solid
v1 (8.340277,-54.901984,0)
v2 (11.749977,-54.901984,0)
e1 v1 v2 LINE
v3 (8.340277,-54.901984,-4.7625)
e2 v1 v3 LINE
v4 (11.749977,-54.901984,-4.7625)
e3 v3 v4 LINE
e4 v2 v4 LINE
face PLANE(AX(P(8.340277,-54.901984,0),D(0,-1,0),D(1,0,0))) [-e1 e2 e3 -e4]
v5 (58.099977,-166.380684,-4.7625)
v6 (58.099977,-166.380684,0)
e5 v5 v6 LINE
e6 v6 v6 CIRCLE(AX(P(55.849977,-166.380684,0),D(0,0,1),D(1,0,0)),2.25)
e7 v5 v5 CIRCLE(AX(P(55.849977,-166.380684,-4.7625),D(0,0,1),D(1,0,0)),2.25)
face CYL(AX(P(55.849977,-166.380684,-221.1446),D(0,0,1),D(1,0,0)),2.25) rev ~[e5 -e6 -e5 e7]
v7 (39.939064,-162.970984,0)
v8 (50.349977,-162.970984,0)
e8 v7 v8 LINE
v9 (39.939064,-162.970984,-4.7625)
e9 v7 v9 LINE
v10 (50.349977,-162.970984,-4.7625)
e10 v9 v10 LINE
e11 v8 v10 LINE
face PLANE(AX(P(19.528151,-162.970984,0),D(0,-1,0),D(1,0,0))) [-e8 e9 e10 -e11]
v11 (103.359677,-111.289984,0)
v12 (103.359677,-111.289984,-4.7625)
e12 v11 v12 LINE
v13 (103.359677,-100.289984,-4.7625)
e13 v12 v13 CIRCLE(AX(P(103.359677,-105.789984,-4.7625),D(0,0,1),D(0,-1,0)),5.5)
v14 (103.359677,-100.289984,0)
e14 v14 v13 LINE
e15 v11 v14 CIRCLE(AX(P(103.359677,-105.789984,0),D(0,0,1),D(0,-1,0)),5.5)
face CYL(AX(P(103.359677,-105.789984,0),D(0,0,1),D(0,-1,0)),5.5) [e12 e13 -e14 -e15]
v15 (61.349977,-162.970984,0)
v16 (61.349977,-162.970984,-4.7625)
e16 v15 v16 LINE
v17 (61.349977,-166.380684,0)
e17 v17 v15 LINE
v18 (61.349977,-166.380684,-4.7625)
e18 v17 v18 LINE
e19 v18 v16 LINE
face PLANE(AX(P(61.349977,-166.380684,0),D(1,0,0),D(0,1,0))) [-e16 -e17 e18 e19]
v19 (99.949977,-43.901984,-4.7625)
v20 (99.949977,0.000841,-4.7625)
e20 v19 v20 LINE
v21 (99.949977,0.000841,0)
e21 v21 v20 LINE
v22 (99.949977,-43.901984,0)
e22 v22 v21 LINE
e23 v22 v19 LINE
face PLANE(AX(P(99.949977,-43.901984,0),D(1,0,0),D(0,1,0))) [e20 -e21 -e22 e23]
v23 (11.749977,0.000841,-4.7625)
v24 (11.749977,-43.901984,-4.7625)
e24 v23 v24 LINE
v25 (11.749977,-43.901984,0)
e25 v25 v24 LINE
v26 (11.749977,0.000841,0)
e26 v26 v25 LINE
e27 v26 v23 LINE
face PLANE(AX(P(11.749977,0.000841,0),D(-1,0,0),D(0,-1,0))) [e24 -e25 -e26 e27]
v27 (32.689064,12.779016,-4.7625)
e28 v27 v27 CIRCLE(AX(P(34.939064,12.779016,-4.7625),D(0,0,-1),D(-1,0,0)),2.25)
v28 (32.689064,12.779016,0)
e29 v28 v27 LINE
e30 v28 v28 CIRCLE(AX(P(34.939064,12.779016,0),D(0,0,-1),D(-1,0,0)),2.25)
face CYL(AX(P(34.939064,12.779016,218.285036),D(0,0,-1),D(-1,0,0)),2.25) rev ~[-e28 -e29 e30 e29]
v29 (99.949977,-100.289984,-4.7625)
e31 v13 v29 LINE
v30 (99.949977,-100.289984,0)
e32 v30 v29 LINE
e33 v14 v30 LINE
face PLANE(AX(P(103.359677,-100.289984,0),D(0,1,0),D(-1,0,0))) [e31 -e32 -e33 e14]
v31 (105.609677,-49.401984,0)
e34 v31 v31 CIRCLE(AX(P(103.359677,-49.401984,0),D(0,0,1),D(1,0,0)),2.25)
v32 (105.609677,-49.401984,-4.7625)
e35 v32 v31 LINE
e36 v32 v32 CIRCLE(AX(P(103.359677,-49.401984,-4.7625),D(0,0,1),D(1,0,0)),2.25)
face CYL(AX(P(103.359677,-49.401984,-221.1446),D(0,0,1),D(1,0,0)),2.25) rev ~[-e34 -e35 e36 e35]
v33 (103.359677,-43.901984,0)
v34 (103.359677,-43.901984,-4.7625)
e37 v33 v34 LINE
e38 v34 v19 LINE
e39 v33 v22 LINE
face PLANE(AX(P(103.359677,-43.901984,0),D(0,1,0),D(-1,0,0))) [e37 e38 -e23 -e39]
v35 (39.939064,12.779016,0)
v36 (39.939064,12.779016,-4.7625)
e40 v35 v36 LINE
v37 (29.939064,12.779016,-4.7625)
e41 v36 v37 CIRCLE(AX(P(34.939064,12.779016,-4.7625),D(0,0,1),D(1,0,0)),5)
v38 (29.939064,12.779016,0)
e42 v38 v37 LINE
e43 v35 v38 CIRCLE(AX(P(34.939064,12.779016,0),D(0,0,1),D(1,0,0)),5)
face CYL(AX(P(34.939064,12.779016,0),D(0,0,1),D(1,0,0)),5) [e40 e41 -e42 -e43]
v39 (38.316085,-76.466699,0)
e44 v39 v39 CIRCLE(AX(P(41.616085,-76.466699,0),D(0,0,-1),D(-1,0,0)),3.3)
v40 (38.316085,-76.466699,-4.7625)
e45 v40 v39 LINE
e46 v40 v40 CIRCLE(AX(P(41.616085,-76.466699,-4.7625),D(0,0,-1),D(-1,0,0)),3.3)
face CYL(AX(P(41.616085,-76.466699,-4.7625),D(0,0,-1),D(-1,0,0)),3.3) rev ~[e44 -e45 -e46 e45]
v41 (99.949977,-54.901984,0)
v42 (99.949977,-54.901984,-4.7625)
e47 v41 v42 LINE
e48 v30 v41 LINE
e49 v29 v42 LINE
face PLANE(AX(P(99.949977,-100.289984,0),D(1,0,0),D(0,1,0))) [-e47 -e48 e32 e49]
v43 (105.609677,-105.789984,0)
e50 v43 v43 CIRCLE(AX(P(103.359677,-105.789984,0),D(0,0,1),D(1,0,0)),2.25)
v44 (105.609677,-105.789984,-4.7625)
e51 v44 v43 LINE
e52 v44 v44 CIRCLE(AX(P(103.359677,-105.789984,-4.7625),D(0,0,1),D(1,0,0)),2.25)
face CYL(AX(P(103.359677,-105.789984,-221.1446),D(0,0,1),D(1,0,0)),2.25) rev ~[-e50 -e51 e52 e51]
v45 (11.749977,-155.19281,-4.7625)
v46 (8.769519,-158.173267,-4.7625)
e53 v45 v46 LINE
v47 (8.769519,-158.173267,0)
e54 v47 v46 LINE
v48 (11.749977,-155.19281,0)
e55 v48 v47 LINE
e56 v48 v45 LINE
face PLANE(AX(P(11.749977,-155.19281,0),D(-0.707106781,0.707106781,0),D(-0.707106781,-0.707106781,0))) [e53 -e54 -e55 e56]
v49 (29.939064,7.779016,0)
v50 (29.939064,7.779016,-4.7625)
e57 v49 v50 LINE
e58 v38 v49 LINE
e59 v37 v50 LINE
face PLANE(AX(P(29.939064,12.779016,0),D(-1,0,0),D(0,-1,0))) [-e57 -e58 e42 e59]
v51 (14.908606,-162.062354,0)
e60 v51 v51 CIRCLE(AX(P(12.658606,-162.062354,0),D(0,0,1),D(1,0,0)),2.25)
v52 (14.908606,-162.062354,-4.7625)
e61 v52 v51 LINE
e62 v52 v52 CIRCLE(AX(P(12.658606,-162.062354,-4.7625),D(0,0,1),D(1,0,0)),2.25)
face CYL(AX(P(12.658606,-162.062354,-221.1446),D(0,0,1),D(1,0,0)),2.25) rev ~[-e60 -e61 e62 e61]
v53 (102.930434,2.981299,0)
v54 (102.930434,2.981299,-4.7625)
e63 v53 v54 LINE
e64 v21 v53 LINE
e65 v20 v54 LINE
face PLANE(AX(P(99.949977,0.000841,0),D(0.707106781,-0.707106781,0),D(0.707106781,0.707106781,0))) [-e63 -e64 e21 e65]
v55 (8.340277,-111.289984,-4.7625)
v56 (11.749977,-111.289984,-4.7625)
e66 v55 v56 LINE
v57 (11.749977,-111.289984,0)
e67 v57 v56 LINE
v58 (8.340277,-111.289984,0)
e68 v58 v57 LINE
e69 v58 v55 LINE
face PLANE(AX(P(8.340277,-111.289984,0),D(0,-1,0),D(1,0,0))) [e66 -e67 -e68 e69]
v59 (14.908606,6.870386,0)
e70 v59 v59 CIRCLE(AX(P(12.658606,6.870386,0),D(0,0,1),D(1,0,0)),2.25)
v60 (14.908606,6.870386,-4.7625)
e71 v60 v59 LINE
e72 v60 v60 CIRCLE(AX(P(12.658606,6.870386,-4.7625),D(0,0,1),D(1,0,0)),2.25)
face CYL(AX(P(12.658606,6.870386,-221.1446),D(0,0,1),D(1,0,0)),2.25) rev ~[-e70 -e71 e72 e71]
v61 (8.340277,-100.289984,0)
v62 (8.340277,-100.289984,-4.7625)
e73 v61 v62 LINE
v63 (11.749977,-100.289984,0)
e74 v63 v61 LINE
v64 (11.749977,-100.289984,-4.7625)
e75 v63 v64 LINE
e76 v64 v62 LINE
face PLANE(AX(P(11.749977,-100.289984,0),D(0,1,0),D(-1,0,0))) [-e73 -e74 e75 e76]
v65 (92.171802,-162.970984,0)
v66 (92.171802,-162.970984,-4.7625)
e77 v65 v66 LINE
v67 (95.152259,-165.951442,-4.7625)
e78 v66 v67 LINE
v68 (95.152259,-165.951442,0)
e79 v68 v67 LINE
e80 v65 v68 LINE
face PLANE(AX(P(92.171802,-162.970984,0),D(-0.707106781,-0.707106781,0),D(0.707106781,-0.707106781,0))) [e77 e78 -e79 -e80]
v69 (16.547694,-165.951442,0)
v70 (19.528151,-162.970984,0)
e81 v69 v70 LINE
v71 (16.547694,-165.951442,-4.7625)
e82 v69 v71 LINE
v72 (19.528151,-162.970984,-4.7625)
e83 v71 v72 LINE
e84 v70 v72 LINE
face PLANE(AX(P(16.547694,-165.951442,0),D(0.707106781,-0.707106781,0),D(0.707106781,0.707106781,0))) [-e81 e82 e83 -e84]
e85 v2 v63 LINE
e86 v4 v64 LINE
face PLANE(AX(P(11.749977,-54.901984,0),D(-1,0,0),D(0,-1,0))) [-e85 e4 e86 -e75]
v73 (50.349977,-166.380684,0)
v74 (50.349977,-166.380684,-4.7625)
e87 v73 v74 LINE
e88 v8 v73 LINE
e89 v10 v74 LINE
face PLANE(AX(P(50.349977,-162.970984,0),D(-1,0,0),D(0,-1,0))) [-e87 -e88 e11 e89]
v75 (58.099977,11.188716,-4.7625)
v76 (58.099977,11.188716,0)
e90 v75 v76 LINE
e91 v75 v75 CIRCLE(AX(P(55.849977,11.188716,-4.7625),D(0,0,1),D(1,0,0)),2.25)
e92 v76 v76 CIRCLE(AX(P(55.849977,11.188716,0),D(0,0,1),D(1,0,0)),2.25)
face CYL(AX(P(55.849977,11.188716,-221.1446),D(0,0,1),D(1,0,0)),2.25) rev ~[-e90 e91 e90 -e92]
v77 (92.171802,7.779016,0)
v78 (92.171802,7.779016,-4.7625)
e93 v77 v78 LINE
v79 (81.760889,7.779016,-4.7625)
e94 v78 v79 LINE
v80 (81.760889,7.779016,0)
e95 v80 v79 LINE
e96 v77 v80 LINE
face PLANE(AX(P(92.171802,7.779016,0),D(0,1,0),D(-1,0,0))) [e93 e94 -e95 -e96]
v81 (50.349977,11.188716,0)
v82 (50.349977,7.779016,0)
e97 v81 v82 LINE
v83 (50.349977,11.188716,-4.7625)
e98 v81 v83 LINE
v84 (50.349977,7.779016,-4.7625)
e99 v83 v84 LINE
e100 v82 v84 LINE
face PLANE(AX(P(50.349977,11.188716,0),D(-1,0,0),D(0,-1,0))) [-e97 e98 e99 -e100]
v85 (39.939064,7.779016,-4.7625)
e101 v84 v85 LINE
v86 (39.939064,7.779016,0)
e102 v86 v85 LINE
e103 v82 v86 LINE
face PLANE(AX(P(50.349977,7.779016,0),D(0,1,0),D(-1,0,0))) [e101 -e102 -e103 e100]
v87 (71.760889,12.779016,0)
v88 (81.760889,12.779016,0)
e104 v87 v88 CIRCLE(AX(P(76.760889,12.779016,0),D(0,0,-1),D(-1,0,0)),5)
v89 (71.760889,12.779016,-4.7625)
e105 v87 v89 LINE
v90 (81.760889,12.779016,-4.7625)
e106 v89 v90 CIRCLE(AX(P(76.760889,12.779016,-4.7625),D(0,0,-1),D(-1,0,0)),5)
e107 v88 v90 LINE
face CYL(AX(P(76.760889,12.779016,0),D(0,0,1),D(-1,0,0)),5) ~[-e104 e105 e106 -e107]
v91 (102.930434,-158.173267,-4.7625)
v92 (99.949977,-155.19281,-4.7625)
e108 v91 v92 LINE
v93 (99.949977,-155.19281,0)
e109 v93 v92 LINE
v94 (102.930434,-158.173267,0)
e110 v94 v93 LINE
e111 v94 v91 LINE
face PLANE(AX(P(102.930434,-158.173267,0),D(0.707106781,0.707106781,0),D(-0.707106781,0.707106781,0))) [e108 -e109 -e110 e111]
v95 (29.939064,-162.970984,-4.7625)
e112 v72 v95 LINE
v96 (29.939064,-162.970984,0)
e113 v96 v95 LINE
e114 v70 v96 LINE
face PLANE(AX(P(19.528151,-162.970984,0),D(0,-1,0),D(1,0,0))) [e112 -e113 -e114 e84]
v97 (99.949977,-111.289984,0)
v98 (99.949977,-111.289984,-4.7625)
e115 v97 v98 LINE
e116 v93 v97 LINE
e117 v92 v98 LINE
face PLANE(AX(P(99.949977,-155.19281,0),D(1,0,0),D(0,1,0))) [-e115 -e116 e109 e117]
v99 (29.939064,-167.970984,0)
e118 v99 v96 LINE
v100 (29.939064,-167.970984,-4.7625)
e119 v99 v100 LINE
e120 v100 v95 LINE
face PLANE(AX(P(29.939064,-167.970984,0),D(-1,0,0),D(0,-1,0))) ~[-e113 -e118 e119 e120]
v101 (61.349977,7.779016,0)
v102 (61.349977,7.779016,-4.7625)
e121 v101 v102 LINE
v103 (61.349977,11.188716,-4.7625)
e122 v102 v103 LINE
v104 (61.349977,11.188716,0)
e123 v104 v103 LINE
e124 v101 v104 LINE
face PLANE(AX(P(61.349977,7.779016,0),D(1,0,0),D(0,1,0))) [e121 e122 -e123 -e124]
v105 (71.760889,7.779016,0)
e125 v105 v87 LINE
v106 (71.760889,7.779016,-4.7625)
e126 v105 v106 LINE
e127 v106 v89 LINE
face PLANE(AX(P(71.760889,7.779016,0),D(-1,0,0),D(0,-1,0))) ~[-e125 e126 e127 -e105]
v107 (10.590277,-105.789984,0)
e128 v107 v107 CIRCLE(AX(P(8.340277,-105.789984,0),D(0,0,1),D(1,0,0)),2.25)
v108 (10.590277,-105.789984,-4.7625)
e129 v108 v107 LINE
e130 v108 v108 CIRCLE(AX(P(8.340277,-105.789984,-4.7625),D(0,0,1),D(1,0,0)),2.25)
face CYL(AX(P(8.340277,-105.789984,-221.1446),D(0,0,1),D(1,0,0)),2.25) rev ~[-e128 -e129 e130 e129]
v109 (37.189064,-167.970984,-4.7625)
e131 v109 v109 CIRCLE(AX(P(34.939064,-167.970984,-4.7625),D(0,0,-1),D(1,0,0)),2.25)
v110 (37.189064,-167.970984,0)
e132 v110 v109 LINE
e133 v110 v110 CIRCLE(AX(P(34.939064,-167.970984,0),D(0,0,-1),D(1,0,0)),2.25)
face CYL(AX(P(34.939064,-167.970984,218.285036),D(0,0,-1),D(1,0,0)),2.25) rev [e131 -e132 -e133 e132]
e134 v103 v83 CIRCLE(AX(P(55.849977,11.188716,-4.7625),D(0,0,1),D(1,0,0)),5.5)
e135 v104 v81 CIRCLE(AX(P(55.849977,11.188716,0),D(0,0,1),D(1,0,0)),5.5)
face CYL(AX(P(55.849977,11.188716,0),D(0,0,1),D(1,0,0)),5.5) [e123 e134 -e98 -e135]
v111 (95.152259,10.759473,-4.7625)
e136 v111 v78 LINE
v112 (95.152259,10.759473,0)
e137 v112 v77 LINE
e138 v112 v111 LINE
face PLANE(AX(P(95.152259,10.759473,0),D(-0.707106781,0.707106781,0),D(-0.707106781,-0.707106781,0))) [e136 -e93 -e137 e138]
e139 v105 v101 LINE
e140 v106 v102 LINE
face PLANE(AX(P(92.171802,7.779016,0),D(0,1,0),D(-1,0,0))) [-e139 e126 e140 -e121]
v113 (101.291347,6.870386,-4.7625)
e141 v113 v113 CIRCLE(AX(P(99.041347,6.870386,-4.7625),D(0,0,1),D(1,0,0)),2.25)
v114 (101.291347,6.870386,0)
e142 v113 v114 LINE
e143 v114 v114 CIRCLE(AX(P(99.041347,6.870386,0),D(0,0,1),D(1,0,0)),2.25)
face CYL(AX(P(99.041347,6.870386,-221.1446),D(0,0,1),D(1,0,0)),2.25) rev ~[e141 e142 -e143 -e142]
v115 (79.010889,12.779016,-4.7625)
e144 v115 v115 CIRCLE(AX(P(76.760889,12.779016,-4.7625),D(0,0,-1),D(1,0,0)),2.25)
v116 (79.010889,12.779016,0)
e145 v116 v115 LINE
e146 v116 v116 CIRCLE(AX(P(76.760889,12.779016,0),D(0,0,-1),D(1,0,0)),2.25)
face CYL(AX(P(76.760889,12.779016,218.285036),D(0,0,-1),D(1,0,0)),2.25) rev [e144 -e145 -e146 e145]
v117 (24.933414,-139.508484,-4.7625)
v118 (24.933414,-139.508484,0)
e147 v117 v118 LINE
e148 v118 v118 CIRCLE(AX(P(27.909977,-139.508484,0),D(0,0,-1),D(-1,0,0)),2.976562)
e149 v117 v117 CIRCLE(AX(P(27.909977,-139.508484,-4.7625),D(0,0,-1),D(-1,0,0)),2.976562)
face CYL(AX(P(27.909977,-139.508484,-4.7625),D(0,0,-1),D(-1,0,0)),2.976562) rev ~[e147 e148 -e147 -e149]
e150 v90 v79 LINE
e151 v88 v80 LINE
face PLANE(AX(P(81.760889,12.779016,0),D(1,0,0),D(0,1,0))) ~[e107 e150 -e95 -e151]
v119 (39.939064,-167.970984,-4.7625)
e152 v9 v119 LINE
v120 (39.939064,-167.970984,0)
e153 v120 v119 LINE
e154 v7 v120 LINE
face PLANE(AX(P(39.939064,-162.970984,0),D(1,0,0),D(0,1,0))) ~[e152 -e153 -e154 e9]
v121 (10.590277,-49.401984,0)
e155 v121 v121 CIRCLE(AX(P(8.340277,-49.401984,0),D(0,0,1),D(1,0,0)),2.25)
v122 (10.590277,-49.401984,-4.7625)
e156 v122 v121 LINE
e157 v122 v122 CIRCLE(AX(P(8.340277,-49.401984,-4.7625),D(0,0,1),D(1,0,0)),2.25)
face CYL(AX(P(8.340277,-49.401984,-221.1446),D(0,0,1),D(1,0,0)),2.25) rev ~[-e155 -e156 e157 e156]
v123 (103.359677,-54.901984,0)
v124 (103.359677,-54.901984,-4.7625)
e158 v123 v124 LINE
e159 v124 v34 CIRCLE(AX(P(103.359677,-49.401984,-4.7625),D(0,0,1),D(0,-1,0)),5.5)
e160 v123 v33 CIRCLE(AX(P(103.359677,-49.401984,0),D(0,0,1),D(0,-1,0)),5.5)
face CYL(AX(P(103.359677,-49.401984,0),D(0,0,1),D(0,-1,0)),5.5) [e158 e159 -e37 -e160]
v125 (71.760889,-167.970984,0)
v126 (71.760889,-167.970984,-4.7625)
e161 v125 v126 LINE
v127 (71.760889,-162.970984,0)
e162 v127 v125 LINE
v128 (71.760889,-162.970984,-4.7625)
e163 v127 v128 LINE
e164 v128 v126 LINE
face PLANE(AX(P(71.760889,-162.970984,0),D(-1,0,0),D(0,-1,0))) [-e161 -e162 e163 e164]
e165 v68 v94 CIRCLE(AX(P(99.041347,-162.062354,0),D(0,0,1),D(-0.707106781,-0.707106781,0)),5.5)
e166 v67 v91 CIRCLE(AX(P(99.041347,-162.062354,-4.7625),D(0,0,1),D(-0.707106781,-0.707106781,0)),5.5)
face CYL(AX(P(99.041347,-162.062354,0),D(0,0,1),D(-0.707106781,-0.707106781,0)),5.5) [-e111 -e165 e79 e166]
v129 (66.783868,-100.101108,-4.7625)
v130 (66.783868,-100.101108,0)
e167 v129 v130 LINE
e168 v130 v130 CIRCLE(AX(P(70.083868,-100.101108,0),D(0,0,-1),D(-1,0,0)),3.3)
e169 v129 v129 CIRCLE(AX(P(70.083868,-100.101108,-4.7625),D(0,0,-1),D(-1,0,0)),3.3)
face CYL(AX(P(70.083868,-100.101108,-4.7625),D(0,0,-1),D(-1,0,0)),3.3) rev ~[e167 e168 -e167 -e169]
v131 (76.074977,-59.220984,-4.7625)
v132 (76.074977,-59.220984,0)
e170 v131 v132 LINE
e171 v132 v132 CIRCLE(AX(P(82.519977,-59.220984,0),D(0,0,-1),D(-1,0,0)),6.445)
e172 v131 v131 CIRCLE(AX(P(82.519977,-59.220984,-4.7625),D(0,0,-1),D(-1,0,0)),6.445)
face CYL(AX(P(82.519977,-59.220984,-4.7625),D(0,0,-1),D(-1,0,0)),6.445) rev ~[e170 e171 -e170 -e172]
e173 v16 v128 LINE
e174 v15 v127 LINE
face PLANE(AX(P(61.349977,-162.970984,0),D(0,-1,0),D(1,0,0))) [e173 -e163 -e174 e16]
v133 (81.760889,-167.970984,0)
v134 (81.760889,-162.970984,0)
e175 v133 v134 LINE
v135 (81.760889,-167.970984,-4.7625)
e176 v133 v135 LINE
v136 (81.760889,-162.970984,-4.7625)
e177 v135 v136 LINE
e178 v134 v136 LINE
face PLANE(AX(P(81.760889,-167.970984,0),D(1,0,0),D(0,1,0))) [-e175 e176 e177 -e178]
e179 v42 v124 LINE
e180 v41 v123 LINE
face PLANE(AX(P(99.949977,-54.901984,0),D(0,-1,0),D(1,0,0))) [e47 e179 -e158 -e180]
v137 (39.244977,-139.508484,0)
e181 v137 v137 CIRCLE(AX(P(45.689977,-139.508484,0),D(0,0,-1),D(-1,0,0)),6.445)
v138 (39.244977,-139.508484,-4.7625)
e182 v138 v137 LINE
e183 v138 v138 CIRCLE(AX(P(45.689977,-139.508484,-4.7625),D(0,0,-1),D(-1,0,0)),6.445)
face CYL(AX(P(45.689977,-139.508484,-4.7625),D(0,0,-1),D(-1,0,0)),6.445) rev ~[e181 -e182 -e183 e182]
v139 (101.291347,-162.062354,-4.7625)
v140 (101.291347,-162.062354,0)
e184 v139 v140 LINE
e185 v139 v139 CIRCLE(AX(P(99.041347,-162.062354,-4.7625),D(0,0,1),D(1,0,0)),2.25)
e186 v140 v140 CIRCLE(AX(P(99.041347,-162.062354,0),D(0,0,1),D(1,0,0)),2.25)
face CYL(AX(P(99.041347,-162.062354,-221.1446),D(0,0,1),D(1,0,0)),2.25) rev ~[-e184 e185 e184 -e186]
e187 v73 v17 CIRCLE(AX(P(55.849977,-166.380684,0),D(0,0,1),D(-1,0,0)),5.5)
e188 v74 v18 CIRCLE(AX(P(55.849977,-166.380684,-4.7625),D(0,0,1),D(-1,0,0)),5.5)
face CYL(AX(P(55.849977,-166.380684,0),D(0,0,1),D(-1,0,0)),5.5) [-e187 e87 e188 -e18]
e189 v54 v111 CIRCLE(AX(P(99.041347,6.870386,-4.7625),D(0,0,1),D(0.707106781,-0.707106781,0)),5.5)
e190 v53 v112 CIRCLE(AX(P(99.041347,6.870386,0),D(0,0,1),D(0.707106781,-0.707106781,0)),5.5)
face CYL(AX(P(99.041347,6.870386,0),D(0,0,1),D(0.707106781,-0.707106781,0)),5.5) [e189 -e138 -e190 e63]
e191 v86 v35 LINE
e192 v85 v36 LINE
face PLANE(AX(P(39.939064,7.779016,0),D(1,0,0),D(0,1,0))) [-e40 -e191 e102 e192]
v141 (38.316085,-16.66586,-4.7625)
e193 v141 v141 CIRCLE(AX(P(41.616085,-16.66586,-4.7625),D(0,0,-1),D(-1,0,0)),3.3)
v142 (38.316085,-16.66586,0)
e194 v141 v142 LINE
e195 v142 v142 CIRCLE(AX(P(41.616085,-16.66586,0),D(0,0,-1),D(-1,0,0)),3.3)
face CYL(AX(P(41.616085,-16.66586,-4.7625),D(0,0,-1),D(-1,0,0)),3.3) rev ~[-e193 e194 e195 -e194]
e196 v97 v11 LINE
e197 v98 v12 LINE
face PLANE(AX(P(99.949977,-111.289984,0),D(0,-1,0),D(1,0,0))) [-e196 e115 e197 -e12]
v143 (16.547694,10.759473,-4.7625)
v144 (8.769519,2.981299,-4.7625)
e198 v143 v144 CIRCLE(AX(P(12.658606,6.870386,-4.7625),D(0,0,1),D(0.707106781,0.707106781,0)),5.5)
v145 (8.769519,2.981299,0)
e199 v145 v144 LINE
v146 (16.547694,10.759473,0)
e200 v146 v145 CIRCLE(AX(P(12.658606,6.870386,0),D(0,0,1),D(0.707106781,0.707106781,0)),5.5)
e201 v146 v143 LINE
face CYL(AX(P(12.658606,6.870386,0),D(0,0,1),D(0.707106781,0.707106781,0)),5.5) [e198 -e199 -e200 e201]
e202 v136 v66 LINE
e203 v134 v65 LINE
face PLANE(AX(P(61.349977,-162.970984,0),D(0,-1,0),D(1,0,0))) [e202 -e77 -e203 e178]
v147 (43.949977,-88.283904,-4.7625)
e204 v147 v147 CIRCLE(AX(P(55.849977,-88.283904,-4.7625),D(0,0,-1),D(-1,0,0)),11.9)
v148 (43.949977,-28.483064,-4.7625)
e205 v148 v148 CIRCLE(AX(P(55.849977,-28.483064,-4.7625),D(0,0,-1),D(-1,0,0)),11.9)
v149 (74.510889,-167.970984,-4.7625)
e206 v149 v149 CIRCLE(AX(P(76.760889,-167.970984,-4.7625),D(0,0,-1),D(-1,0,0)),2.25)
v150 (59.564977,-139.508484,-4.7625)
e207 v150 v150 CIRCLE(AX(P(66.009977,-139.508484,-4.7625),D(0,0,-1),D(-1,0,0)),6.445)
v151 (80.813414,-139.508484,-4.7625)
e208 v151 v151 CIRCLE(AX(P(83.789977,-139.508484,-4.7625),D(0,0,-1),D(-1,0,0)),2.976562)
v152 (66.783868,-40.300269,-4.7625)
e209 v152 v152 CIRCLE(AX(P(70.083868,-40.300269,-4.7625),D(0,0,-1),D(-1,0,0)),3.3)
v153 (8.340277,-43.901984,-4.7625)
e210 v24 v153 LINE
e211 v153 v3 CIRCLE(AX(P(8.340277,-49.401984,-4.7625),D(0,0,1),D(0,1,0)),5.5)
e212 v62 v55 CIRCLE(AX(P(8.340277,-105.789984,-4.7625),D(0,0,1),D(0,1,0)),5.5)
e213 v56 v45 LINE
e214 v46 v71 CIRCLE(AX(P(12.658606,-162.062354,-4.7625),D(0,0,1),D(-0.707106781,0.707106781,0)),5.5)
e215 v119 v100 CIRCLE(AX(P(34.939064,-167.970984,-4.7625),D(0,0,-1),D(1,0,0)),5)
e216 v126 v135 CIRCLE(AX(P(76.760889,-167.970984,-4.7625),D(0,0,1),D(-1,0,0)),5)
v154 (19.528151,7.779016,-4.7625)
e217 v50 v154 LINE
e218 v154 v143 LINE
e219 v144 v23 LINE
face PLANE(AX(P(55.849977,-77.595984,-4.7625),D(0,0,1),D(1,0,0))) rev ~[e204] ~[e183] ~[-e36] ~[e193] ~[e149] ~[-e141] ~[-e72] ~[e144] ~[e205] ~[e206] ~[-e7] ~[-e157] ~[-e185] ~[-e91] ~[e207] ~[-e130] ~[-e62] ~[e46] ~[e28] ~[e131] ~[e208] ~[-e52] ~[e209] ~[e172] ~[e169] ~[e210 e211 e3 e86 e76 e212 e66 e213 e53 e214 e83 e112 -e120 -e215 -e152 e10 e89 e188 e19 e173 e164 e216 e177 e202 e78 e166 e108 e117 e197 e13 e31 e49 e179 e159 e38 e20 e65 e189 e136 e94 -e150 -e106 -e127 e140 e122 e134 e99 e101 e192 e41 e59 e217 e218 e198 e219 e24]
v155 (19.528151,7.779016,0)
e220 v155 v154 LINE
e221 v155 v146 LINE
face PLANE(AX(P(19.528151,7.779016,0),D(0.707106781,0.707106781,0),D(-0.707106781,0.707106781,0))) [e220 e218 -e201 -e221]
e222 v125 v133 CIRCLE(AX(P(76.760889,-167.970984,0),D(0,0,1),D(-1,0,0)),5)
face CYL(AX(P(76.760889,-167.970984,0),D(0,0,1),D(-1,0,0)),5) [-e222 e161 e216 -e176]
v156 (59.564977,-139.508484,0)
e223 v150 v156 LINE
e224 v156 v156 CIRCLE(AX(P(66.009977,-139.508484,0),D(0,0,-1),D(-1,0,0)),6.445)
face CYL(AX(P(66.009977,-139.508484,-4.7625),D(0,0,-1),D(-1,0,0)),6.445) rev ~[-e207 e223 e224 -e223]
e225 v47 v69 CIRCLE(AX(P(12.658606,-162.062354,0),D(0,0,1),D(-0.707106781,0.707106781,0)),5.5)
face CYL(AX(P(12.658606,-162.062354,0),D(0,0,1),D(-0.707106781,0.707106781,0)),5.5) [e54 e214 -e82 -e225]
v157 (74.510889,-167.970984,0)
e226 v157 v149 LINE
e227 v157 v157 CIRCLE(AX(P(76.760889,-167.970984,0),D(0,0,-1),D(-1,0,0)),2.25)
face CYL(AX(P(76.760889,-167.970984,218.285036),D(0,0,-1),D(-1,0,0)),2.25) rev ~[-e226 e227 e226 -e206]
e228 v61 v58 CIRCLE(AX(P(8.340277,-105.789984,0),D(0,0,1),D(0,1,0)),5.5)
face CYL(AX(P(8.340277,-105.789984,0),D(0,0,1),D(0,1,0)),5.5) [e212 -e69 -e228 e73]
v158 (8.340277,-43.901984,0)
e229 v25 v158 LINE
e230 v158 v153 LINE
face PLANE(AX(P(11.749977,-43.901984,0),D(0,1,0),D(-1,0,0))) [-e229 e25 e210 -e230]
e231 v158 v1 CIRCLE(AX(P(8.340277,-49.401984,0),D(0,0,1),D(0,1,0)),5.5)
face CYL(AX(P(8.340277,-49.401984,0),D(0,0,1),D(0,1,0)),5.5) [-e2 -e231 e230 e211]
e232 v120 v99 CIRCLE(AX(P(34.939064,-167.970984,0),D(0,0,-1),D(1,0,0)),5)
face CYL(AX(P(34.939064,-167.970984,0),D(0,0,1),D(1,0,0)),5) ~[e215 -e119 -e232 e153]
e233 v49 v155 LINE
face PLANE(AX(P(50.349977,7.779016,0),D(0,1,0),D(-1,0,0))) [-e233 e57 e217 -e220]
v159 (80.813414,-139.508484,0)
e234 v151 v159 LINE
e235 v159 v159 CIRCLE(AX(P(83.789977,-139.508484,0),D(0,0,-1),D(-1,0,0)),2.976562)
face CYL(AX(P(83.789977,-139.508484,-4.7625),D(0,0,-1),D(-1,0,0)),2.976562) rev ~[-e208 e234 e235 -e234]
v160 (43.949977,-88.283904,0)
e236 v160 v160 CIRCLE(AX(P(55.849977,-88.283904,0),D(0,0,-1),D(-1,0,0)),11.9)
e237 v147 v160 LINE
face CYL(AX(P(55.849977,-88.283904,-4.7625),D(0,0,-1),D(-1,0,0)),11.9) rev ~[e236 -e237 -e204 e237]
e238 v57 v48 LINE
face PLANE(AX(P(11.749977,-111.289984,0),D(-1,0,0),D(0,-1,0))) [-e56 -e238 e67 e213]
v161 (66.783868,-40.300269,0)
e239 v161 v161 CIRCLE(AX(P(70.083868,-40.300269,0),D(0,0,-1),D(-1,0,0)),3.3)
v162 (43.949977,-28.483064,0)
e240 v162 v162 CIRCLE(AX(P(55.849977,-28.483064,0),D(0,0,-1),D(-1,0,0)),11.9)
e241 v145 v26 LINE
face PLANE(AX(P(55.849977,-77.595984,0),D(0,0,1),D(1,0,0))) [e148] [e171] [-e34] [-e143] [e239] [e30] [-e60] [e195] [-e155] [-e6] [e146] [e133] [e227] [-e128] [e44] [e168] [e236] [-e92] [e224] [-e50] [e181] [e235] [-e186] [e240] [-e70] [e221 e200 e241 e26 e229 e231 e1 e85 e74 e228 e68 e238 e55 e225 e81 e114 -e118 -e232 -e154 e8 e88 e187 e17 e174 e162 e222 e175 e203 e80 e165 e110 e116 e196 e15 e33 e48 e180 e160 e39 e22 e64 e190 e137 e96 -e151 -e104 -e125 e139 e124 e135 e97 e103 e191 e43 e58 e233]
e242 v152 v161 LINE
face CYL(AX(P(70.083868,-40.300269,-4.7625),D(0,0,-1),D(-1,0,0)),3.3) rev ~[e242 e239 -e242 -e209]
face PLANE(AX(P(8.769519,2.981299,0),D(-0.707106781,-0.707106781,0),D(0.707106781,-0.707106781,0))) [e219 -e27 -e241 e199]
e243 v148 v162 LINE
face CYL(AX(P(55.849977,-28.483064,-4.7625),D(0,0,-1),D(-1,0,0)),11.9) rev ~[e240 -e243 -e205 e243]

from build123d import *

# Parameters (mm, degrees)
BOSS_EXTRUDE1_DEPTH  = 4.7625
M4_CLEARANCE_HOLE1_D = 4.5
SKETCH4_R            = 3.3
SKETCH4_R_2          = 2.9765625
SKETCH4_R_3          = 6.445
SKETCH4_R_4          = 11.9
CUT_EXTRUDE1_DEPTH   = 4.7625
BOSS_EXTRUDE3_DEPTH  = 4.7625
M4_CLEARANCE_HOLE2_D = 4.5


with BuildPart() as part:
    # Sketch1 → Boss-Extrude1 (new body)
    with BuildSketch(Plane.XY):
        with BuildLine():
            Line((50.349976536, 7.779015878), (19.528151129, 7.779015878))
            Line((19.528151129, 7.779015878), (16.547693582, 10.759473425))
            ThreePointArc((16.547693582, 10.759473425), (8.769518989, 10.759473425), (8.769518989, 2.981298831))
            Line((8.769518989, 2.981298831), (11.749976536, 0.000841285))
            Line((11.749976536, 0.000841285), (11.749976536, -43.901984122))
            Line((11.749976536, -43.901984122), (8.340276536, -43.901984122))
            ThreePointArc((8.340276536, -43.901984122), (2.840276536, -49.401984122), (8.340276536, -54.901984122))
            Line((8.340276536, -54.901984122), (11.749976536, -54.901984122))
            Line((11.749976536, -54.901984122), (11.749976536, -100.289984122))
            Line((11.749976536, -100.289984122), (8.340276536, -100.289984122))
            ThreePointArc((8.340276536, -100.289984122), (2.840276536, -105.789984122), (8.340276536, -111.289984122))
            Line((8.340276536, -111.289984122), (11.749976536, -111.289984122))
            Line((11.749976536, -111.289984122), (11.749976536, -155.192809529))
            Line((11.749976536, -155.192809529), (8.769518989, -158.173267075))
            ThreePointArc((8.769518989, -158.173267075), (8.769518989, -165.951441668), (16.547693582, -165.951441668))
            Line((16.547693582, -165.951441668), (19.528151129, -162.970984122))
            Line((19.528151129, -162.970984122), (50.349976536, -162.970984122))
            Line((50.349976536, -162.970984122), (50.349976536, -166.380684122))
            ThreePointArc((50.349976536, -166.380684122), (55.849976536, -171.880684122), (61.349976536, -166.380684122))
            Line((61.349976536, -166.380684122), (61.349976536, -162.970984122))
            Line((61.349976536, -162.970984122), (92.171801943, -162.970984122))
            Line((92.171801943, -162.970984122), (95.152259489, -165.951441668))
            ThreePointArc((95.152259489, -165.951441668), (102.930434082, -165.951441668), (102.930434082, -158.173267075))
            Line((102.930434082, -158.173267075), (99.949976536, -155.192809529))
            Line((99.949976536, -155.192809529), (99.949976536, -111.289984122))
            Line((99.949976536, -111.289984122), (103.359676536, -111.289984122))
            ThreePointArc((103.359676536, -111.289984122), (108.859676536, -105.789984122), (103.359676536, -100.289984122))
            Line((103.359676536, -100.289984122), (99.949976536, -100.289984122))
            Line((99.949976536, -100.289984122), (99.949976536, -54.901984122))
            Line((99.949976536, -54.901984122), (103.359676536, -54.901984122))
            ThreePointArc((103.359676536, -54.901984122), (108.859676536, -49.401984122), (103.359676536, -43.901984122))
            Line((103.359676536, -43.901984122), (99.949976536, -43.901984122))
            Line((99.949976536, -43.901984122), (99.949976536, 0.000841285))
            Line((99.949976536, 0.000841285), (102.930434082, 2.981298831))
            ThreePointArc((102.930434082, 2.981298831), (102.930434082, 10.759473425), (95.152259489, 10.759473425))
            Line((95.152259489, 10.759473425), (92.171801943, 7.779015878))
            Line((92.171801943, 7.779015878), (61.349976536, 7.779015878))
            Line((61.349976536, 7.779015878), (61.349976536, 11.188715878))
            ThreePointArc((61.349976536, 11.188715878), (55.849976536, 16.688715878), (50.349976536, 11.188715878))
            Line((50.349976536, 11.188715878), (50.349976536, 7.779015878))
        make_face()
    extrude(amount=-BOSS_EXTRUDE1_DEPTH)

    # M4 Clearance Hole1 (through all)
    with Locations(Plane(origin=(0, 0, -4.7625), x_dir=(-1, 0, 0), z_dir=(0, 0, -1))):
        with Locations((-12.658606286, -162.062354372), (-55.849976536, -166.380684122), (-99.041346785, -162.062354372), (-103.359676536, -105.789984122), (-103.359676536, -49.401984122), (-99.041346785, 6.870386128), (-12.658606286, 6.870386128), (-8.340276536, -49.401984122), (-8.340276536, -105.789984122), (-55.849976536, 11.188715878)):
            Hole(M4_CLEARANCE_HOLE1_D / 2)

    # Sketch4 → Cut-Extrude1 (cut)
    with BuildSketch(Plane(origin=(0, 0, -4.7625), x_dir=(-1, 0, 0), z_dir=(0, 0, -1))):
        with Locations((-41.616084767, -16.665859852)):
            Circle(SKETCH4_R)
        with Locations((-70.083868304, -40.3002691)):
            Circle(SKETCH4_R)
        with Locations((-27.909976536, -139.508484122)):
            Circle(SKETCH4_R_2)
        with Locations((-41.616084767, -76.466699143)):
            Circle(SKETCH4_R)
        with Locations((-83.789976536, -139.508484122)):
            Circle(SKETCH4_R_2)
        with Locations((-70.083868304, -100.101108391)):
            Circle(SKETCH4_R)
        with Locations((-66.009976536, -139.508484122)):
            Circle(SKETCH4_R_3)
        with Locations((-82.519976536, -59.220984122)):
            Circle(SKETCH4_R_3)
        with Locations((-45.689976536, -139.508484122)):
            Circle(SKETCH4_R_3)
        with Locations((-55.849976536, -88.283903767)):
            Circle(SKETCH4_R_4)
        with Locations((-55.849976536, -28.483064476)):
            Circle(SKETCH4_R_4)
    extrude(amount=-CUT_EXTRUDE1_DEPTH, mode=Mode.SUBTRACT)

    # Sketch6 → Boss-Extrude3 (add)
    with BuildSketch(Plane.XY):
        with BuildLine():
            Line((39.939063832, 7.779015878), (39.939063832, 12.779015878))
            ThreePointArc((39.939063832, 12.779015878), (34.939063832, 17.779015878), (29.939063832, 12.779015878))
            Line((29.939063832, 12.779015878), (29.939063832, 7.779015878))
            Line((29.939063832, 7.779015878), (39.939063832, 7.779015878))
        make_face()
        with BuildLine():
            Line((81.760889239, -162.970984122), (71.760889239, -162.970984122))
            Line((71.760889239, -162.970984122), (71.760889239, -167.970984122))
            ThreePointArc((71.760889239, -167.970984122), (76.760889239, -172.970984122), (81.760889239, -167.970984122))
            Line((81.760889239, -167.970984122), (81.760889239, -162.970984122))
        make_face()
    boss_extrude3 = extrude(amount=-BOSS_EXTRUDE3_DEPTH)

    # M4 Clearance Hole2 (through all)
    with Locations(Plane.XY):
        with Locations((34.939063832, 12.779015878), (76.760889239, -167.970984122)):
            m4_clearance_hole2 = Hole(M4_CLEARANCE_HOLE2_D / 2)

    # Mirror1: Boss-Extrude3, M4 Clearance Hole2 across plane
    add(boss_extrude3.mirror(Plane.ZY.offset(-55.849976536)))
    add(m4_clearance_hole2.mirror(Plane.ZY.offset(-55.849976536)), mode=Mode.SUBTRACT)


solid = part.part
